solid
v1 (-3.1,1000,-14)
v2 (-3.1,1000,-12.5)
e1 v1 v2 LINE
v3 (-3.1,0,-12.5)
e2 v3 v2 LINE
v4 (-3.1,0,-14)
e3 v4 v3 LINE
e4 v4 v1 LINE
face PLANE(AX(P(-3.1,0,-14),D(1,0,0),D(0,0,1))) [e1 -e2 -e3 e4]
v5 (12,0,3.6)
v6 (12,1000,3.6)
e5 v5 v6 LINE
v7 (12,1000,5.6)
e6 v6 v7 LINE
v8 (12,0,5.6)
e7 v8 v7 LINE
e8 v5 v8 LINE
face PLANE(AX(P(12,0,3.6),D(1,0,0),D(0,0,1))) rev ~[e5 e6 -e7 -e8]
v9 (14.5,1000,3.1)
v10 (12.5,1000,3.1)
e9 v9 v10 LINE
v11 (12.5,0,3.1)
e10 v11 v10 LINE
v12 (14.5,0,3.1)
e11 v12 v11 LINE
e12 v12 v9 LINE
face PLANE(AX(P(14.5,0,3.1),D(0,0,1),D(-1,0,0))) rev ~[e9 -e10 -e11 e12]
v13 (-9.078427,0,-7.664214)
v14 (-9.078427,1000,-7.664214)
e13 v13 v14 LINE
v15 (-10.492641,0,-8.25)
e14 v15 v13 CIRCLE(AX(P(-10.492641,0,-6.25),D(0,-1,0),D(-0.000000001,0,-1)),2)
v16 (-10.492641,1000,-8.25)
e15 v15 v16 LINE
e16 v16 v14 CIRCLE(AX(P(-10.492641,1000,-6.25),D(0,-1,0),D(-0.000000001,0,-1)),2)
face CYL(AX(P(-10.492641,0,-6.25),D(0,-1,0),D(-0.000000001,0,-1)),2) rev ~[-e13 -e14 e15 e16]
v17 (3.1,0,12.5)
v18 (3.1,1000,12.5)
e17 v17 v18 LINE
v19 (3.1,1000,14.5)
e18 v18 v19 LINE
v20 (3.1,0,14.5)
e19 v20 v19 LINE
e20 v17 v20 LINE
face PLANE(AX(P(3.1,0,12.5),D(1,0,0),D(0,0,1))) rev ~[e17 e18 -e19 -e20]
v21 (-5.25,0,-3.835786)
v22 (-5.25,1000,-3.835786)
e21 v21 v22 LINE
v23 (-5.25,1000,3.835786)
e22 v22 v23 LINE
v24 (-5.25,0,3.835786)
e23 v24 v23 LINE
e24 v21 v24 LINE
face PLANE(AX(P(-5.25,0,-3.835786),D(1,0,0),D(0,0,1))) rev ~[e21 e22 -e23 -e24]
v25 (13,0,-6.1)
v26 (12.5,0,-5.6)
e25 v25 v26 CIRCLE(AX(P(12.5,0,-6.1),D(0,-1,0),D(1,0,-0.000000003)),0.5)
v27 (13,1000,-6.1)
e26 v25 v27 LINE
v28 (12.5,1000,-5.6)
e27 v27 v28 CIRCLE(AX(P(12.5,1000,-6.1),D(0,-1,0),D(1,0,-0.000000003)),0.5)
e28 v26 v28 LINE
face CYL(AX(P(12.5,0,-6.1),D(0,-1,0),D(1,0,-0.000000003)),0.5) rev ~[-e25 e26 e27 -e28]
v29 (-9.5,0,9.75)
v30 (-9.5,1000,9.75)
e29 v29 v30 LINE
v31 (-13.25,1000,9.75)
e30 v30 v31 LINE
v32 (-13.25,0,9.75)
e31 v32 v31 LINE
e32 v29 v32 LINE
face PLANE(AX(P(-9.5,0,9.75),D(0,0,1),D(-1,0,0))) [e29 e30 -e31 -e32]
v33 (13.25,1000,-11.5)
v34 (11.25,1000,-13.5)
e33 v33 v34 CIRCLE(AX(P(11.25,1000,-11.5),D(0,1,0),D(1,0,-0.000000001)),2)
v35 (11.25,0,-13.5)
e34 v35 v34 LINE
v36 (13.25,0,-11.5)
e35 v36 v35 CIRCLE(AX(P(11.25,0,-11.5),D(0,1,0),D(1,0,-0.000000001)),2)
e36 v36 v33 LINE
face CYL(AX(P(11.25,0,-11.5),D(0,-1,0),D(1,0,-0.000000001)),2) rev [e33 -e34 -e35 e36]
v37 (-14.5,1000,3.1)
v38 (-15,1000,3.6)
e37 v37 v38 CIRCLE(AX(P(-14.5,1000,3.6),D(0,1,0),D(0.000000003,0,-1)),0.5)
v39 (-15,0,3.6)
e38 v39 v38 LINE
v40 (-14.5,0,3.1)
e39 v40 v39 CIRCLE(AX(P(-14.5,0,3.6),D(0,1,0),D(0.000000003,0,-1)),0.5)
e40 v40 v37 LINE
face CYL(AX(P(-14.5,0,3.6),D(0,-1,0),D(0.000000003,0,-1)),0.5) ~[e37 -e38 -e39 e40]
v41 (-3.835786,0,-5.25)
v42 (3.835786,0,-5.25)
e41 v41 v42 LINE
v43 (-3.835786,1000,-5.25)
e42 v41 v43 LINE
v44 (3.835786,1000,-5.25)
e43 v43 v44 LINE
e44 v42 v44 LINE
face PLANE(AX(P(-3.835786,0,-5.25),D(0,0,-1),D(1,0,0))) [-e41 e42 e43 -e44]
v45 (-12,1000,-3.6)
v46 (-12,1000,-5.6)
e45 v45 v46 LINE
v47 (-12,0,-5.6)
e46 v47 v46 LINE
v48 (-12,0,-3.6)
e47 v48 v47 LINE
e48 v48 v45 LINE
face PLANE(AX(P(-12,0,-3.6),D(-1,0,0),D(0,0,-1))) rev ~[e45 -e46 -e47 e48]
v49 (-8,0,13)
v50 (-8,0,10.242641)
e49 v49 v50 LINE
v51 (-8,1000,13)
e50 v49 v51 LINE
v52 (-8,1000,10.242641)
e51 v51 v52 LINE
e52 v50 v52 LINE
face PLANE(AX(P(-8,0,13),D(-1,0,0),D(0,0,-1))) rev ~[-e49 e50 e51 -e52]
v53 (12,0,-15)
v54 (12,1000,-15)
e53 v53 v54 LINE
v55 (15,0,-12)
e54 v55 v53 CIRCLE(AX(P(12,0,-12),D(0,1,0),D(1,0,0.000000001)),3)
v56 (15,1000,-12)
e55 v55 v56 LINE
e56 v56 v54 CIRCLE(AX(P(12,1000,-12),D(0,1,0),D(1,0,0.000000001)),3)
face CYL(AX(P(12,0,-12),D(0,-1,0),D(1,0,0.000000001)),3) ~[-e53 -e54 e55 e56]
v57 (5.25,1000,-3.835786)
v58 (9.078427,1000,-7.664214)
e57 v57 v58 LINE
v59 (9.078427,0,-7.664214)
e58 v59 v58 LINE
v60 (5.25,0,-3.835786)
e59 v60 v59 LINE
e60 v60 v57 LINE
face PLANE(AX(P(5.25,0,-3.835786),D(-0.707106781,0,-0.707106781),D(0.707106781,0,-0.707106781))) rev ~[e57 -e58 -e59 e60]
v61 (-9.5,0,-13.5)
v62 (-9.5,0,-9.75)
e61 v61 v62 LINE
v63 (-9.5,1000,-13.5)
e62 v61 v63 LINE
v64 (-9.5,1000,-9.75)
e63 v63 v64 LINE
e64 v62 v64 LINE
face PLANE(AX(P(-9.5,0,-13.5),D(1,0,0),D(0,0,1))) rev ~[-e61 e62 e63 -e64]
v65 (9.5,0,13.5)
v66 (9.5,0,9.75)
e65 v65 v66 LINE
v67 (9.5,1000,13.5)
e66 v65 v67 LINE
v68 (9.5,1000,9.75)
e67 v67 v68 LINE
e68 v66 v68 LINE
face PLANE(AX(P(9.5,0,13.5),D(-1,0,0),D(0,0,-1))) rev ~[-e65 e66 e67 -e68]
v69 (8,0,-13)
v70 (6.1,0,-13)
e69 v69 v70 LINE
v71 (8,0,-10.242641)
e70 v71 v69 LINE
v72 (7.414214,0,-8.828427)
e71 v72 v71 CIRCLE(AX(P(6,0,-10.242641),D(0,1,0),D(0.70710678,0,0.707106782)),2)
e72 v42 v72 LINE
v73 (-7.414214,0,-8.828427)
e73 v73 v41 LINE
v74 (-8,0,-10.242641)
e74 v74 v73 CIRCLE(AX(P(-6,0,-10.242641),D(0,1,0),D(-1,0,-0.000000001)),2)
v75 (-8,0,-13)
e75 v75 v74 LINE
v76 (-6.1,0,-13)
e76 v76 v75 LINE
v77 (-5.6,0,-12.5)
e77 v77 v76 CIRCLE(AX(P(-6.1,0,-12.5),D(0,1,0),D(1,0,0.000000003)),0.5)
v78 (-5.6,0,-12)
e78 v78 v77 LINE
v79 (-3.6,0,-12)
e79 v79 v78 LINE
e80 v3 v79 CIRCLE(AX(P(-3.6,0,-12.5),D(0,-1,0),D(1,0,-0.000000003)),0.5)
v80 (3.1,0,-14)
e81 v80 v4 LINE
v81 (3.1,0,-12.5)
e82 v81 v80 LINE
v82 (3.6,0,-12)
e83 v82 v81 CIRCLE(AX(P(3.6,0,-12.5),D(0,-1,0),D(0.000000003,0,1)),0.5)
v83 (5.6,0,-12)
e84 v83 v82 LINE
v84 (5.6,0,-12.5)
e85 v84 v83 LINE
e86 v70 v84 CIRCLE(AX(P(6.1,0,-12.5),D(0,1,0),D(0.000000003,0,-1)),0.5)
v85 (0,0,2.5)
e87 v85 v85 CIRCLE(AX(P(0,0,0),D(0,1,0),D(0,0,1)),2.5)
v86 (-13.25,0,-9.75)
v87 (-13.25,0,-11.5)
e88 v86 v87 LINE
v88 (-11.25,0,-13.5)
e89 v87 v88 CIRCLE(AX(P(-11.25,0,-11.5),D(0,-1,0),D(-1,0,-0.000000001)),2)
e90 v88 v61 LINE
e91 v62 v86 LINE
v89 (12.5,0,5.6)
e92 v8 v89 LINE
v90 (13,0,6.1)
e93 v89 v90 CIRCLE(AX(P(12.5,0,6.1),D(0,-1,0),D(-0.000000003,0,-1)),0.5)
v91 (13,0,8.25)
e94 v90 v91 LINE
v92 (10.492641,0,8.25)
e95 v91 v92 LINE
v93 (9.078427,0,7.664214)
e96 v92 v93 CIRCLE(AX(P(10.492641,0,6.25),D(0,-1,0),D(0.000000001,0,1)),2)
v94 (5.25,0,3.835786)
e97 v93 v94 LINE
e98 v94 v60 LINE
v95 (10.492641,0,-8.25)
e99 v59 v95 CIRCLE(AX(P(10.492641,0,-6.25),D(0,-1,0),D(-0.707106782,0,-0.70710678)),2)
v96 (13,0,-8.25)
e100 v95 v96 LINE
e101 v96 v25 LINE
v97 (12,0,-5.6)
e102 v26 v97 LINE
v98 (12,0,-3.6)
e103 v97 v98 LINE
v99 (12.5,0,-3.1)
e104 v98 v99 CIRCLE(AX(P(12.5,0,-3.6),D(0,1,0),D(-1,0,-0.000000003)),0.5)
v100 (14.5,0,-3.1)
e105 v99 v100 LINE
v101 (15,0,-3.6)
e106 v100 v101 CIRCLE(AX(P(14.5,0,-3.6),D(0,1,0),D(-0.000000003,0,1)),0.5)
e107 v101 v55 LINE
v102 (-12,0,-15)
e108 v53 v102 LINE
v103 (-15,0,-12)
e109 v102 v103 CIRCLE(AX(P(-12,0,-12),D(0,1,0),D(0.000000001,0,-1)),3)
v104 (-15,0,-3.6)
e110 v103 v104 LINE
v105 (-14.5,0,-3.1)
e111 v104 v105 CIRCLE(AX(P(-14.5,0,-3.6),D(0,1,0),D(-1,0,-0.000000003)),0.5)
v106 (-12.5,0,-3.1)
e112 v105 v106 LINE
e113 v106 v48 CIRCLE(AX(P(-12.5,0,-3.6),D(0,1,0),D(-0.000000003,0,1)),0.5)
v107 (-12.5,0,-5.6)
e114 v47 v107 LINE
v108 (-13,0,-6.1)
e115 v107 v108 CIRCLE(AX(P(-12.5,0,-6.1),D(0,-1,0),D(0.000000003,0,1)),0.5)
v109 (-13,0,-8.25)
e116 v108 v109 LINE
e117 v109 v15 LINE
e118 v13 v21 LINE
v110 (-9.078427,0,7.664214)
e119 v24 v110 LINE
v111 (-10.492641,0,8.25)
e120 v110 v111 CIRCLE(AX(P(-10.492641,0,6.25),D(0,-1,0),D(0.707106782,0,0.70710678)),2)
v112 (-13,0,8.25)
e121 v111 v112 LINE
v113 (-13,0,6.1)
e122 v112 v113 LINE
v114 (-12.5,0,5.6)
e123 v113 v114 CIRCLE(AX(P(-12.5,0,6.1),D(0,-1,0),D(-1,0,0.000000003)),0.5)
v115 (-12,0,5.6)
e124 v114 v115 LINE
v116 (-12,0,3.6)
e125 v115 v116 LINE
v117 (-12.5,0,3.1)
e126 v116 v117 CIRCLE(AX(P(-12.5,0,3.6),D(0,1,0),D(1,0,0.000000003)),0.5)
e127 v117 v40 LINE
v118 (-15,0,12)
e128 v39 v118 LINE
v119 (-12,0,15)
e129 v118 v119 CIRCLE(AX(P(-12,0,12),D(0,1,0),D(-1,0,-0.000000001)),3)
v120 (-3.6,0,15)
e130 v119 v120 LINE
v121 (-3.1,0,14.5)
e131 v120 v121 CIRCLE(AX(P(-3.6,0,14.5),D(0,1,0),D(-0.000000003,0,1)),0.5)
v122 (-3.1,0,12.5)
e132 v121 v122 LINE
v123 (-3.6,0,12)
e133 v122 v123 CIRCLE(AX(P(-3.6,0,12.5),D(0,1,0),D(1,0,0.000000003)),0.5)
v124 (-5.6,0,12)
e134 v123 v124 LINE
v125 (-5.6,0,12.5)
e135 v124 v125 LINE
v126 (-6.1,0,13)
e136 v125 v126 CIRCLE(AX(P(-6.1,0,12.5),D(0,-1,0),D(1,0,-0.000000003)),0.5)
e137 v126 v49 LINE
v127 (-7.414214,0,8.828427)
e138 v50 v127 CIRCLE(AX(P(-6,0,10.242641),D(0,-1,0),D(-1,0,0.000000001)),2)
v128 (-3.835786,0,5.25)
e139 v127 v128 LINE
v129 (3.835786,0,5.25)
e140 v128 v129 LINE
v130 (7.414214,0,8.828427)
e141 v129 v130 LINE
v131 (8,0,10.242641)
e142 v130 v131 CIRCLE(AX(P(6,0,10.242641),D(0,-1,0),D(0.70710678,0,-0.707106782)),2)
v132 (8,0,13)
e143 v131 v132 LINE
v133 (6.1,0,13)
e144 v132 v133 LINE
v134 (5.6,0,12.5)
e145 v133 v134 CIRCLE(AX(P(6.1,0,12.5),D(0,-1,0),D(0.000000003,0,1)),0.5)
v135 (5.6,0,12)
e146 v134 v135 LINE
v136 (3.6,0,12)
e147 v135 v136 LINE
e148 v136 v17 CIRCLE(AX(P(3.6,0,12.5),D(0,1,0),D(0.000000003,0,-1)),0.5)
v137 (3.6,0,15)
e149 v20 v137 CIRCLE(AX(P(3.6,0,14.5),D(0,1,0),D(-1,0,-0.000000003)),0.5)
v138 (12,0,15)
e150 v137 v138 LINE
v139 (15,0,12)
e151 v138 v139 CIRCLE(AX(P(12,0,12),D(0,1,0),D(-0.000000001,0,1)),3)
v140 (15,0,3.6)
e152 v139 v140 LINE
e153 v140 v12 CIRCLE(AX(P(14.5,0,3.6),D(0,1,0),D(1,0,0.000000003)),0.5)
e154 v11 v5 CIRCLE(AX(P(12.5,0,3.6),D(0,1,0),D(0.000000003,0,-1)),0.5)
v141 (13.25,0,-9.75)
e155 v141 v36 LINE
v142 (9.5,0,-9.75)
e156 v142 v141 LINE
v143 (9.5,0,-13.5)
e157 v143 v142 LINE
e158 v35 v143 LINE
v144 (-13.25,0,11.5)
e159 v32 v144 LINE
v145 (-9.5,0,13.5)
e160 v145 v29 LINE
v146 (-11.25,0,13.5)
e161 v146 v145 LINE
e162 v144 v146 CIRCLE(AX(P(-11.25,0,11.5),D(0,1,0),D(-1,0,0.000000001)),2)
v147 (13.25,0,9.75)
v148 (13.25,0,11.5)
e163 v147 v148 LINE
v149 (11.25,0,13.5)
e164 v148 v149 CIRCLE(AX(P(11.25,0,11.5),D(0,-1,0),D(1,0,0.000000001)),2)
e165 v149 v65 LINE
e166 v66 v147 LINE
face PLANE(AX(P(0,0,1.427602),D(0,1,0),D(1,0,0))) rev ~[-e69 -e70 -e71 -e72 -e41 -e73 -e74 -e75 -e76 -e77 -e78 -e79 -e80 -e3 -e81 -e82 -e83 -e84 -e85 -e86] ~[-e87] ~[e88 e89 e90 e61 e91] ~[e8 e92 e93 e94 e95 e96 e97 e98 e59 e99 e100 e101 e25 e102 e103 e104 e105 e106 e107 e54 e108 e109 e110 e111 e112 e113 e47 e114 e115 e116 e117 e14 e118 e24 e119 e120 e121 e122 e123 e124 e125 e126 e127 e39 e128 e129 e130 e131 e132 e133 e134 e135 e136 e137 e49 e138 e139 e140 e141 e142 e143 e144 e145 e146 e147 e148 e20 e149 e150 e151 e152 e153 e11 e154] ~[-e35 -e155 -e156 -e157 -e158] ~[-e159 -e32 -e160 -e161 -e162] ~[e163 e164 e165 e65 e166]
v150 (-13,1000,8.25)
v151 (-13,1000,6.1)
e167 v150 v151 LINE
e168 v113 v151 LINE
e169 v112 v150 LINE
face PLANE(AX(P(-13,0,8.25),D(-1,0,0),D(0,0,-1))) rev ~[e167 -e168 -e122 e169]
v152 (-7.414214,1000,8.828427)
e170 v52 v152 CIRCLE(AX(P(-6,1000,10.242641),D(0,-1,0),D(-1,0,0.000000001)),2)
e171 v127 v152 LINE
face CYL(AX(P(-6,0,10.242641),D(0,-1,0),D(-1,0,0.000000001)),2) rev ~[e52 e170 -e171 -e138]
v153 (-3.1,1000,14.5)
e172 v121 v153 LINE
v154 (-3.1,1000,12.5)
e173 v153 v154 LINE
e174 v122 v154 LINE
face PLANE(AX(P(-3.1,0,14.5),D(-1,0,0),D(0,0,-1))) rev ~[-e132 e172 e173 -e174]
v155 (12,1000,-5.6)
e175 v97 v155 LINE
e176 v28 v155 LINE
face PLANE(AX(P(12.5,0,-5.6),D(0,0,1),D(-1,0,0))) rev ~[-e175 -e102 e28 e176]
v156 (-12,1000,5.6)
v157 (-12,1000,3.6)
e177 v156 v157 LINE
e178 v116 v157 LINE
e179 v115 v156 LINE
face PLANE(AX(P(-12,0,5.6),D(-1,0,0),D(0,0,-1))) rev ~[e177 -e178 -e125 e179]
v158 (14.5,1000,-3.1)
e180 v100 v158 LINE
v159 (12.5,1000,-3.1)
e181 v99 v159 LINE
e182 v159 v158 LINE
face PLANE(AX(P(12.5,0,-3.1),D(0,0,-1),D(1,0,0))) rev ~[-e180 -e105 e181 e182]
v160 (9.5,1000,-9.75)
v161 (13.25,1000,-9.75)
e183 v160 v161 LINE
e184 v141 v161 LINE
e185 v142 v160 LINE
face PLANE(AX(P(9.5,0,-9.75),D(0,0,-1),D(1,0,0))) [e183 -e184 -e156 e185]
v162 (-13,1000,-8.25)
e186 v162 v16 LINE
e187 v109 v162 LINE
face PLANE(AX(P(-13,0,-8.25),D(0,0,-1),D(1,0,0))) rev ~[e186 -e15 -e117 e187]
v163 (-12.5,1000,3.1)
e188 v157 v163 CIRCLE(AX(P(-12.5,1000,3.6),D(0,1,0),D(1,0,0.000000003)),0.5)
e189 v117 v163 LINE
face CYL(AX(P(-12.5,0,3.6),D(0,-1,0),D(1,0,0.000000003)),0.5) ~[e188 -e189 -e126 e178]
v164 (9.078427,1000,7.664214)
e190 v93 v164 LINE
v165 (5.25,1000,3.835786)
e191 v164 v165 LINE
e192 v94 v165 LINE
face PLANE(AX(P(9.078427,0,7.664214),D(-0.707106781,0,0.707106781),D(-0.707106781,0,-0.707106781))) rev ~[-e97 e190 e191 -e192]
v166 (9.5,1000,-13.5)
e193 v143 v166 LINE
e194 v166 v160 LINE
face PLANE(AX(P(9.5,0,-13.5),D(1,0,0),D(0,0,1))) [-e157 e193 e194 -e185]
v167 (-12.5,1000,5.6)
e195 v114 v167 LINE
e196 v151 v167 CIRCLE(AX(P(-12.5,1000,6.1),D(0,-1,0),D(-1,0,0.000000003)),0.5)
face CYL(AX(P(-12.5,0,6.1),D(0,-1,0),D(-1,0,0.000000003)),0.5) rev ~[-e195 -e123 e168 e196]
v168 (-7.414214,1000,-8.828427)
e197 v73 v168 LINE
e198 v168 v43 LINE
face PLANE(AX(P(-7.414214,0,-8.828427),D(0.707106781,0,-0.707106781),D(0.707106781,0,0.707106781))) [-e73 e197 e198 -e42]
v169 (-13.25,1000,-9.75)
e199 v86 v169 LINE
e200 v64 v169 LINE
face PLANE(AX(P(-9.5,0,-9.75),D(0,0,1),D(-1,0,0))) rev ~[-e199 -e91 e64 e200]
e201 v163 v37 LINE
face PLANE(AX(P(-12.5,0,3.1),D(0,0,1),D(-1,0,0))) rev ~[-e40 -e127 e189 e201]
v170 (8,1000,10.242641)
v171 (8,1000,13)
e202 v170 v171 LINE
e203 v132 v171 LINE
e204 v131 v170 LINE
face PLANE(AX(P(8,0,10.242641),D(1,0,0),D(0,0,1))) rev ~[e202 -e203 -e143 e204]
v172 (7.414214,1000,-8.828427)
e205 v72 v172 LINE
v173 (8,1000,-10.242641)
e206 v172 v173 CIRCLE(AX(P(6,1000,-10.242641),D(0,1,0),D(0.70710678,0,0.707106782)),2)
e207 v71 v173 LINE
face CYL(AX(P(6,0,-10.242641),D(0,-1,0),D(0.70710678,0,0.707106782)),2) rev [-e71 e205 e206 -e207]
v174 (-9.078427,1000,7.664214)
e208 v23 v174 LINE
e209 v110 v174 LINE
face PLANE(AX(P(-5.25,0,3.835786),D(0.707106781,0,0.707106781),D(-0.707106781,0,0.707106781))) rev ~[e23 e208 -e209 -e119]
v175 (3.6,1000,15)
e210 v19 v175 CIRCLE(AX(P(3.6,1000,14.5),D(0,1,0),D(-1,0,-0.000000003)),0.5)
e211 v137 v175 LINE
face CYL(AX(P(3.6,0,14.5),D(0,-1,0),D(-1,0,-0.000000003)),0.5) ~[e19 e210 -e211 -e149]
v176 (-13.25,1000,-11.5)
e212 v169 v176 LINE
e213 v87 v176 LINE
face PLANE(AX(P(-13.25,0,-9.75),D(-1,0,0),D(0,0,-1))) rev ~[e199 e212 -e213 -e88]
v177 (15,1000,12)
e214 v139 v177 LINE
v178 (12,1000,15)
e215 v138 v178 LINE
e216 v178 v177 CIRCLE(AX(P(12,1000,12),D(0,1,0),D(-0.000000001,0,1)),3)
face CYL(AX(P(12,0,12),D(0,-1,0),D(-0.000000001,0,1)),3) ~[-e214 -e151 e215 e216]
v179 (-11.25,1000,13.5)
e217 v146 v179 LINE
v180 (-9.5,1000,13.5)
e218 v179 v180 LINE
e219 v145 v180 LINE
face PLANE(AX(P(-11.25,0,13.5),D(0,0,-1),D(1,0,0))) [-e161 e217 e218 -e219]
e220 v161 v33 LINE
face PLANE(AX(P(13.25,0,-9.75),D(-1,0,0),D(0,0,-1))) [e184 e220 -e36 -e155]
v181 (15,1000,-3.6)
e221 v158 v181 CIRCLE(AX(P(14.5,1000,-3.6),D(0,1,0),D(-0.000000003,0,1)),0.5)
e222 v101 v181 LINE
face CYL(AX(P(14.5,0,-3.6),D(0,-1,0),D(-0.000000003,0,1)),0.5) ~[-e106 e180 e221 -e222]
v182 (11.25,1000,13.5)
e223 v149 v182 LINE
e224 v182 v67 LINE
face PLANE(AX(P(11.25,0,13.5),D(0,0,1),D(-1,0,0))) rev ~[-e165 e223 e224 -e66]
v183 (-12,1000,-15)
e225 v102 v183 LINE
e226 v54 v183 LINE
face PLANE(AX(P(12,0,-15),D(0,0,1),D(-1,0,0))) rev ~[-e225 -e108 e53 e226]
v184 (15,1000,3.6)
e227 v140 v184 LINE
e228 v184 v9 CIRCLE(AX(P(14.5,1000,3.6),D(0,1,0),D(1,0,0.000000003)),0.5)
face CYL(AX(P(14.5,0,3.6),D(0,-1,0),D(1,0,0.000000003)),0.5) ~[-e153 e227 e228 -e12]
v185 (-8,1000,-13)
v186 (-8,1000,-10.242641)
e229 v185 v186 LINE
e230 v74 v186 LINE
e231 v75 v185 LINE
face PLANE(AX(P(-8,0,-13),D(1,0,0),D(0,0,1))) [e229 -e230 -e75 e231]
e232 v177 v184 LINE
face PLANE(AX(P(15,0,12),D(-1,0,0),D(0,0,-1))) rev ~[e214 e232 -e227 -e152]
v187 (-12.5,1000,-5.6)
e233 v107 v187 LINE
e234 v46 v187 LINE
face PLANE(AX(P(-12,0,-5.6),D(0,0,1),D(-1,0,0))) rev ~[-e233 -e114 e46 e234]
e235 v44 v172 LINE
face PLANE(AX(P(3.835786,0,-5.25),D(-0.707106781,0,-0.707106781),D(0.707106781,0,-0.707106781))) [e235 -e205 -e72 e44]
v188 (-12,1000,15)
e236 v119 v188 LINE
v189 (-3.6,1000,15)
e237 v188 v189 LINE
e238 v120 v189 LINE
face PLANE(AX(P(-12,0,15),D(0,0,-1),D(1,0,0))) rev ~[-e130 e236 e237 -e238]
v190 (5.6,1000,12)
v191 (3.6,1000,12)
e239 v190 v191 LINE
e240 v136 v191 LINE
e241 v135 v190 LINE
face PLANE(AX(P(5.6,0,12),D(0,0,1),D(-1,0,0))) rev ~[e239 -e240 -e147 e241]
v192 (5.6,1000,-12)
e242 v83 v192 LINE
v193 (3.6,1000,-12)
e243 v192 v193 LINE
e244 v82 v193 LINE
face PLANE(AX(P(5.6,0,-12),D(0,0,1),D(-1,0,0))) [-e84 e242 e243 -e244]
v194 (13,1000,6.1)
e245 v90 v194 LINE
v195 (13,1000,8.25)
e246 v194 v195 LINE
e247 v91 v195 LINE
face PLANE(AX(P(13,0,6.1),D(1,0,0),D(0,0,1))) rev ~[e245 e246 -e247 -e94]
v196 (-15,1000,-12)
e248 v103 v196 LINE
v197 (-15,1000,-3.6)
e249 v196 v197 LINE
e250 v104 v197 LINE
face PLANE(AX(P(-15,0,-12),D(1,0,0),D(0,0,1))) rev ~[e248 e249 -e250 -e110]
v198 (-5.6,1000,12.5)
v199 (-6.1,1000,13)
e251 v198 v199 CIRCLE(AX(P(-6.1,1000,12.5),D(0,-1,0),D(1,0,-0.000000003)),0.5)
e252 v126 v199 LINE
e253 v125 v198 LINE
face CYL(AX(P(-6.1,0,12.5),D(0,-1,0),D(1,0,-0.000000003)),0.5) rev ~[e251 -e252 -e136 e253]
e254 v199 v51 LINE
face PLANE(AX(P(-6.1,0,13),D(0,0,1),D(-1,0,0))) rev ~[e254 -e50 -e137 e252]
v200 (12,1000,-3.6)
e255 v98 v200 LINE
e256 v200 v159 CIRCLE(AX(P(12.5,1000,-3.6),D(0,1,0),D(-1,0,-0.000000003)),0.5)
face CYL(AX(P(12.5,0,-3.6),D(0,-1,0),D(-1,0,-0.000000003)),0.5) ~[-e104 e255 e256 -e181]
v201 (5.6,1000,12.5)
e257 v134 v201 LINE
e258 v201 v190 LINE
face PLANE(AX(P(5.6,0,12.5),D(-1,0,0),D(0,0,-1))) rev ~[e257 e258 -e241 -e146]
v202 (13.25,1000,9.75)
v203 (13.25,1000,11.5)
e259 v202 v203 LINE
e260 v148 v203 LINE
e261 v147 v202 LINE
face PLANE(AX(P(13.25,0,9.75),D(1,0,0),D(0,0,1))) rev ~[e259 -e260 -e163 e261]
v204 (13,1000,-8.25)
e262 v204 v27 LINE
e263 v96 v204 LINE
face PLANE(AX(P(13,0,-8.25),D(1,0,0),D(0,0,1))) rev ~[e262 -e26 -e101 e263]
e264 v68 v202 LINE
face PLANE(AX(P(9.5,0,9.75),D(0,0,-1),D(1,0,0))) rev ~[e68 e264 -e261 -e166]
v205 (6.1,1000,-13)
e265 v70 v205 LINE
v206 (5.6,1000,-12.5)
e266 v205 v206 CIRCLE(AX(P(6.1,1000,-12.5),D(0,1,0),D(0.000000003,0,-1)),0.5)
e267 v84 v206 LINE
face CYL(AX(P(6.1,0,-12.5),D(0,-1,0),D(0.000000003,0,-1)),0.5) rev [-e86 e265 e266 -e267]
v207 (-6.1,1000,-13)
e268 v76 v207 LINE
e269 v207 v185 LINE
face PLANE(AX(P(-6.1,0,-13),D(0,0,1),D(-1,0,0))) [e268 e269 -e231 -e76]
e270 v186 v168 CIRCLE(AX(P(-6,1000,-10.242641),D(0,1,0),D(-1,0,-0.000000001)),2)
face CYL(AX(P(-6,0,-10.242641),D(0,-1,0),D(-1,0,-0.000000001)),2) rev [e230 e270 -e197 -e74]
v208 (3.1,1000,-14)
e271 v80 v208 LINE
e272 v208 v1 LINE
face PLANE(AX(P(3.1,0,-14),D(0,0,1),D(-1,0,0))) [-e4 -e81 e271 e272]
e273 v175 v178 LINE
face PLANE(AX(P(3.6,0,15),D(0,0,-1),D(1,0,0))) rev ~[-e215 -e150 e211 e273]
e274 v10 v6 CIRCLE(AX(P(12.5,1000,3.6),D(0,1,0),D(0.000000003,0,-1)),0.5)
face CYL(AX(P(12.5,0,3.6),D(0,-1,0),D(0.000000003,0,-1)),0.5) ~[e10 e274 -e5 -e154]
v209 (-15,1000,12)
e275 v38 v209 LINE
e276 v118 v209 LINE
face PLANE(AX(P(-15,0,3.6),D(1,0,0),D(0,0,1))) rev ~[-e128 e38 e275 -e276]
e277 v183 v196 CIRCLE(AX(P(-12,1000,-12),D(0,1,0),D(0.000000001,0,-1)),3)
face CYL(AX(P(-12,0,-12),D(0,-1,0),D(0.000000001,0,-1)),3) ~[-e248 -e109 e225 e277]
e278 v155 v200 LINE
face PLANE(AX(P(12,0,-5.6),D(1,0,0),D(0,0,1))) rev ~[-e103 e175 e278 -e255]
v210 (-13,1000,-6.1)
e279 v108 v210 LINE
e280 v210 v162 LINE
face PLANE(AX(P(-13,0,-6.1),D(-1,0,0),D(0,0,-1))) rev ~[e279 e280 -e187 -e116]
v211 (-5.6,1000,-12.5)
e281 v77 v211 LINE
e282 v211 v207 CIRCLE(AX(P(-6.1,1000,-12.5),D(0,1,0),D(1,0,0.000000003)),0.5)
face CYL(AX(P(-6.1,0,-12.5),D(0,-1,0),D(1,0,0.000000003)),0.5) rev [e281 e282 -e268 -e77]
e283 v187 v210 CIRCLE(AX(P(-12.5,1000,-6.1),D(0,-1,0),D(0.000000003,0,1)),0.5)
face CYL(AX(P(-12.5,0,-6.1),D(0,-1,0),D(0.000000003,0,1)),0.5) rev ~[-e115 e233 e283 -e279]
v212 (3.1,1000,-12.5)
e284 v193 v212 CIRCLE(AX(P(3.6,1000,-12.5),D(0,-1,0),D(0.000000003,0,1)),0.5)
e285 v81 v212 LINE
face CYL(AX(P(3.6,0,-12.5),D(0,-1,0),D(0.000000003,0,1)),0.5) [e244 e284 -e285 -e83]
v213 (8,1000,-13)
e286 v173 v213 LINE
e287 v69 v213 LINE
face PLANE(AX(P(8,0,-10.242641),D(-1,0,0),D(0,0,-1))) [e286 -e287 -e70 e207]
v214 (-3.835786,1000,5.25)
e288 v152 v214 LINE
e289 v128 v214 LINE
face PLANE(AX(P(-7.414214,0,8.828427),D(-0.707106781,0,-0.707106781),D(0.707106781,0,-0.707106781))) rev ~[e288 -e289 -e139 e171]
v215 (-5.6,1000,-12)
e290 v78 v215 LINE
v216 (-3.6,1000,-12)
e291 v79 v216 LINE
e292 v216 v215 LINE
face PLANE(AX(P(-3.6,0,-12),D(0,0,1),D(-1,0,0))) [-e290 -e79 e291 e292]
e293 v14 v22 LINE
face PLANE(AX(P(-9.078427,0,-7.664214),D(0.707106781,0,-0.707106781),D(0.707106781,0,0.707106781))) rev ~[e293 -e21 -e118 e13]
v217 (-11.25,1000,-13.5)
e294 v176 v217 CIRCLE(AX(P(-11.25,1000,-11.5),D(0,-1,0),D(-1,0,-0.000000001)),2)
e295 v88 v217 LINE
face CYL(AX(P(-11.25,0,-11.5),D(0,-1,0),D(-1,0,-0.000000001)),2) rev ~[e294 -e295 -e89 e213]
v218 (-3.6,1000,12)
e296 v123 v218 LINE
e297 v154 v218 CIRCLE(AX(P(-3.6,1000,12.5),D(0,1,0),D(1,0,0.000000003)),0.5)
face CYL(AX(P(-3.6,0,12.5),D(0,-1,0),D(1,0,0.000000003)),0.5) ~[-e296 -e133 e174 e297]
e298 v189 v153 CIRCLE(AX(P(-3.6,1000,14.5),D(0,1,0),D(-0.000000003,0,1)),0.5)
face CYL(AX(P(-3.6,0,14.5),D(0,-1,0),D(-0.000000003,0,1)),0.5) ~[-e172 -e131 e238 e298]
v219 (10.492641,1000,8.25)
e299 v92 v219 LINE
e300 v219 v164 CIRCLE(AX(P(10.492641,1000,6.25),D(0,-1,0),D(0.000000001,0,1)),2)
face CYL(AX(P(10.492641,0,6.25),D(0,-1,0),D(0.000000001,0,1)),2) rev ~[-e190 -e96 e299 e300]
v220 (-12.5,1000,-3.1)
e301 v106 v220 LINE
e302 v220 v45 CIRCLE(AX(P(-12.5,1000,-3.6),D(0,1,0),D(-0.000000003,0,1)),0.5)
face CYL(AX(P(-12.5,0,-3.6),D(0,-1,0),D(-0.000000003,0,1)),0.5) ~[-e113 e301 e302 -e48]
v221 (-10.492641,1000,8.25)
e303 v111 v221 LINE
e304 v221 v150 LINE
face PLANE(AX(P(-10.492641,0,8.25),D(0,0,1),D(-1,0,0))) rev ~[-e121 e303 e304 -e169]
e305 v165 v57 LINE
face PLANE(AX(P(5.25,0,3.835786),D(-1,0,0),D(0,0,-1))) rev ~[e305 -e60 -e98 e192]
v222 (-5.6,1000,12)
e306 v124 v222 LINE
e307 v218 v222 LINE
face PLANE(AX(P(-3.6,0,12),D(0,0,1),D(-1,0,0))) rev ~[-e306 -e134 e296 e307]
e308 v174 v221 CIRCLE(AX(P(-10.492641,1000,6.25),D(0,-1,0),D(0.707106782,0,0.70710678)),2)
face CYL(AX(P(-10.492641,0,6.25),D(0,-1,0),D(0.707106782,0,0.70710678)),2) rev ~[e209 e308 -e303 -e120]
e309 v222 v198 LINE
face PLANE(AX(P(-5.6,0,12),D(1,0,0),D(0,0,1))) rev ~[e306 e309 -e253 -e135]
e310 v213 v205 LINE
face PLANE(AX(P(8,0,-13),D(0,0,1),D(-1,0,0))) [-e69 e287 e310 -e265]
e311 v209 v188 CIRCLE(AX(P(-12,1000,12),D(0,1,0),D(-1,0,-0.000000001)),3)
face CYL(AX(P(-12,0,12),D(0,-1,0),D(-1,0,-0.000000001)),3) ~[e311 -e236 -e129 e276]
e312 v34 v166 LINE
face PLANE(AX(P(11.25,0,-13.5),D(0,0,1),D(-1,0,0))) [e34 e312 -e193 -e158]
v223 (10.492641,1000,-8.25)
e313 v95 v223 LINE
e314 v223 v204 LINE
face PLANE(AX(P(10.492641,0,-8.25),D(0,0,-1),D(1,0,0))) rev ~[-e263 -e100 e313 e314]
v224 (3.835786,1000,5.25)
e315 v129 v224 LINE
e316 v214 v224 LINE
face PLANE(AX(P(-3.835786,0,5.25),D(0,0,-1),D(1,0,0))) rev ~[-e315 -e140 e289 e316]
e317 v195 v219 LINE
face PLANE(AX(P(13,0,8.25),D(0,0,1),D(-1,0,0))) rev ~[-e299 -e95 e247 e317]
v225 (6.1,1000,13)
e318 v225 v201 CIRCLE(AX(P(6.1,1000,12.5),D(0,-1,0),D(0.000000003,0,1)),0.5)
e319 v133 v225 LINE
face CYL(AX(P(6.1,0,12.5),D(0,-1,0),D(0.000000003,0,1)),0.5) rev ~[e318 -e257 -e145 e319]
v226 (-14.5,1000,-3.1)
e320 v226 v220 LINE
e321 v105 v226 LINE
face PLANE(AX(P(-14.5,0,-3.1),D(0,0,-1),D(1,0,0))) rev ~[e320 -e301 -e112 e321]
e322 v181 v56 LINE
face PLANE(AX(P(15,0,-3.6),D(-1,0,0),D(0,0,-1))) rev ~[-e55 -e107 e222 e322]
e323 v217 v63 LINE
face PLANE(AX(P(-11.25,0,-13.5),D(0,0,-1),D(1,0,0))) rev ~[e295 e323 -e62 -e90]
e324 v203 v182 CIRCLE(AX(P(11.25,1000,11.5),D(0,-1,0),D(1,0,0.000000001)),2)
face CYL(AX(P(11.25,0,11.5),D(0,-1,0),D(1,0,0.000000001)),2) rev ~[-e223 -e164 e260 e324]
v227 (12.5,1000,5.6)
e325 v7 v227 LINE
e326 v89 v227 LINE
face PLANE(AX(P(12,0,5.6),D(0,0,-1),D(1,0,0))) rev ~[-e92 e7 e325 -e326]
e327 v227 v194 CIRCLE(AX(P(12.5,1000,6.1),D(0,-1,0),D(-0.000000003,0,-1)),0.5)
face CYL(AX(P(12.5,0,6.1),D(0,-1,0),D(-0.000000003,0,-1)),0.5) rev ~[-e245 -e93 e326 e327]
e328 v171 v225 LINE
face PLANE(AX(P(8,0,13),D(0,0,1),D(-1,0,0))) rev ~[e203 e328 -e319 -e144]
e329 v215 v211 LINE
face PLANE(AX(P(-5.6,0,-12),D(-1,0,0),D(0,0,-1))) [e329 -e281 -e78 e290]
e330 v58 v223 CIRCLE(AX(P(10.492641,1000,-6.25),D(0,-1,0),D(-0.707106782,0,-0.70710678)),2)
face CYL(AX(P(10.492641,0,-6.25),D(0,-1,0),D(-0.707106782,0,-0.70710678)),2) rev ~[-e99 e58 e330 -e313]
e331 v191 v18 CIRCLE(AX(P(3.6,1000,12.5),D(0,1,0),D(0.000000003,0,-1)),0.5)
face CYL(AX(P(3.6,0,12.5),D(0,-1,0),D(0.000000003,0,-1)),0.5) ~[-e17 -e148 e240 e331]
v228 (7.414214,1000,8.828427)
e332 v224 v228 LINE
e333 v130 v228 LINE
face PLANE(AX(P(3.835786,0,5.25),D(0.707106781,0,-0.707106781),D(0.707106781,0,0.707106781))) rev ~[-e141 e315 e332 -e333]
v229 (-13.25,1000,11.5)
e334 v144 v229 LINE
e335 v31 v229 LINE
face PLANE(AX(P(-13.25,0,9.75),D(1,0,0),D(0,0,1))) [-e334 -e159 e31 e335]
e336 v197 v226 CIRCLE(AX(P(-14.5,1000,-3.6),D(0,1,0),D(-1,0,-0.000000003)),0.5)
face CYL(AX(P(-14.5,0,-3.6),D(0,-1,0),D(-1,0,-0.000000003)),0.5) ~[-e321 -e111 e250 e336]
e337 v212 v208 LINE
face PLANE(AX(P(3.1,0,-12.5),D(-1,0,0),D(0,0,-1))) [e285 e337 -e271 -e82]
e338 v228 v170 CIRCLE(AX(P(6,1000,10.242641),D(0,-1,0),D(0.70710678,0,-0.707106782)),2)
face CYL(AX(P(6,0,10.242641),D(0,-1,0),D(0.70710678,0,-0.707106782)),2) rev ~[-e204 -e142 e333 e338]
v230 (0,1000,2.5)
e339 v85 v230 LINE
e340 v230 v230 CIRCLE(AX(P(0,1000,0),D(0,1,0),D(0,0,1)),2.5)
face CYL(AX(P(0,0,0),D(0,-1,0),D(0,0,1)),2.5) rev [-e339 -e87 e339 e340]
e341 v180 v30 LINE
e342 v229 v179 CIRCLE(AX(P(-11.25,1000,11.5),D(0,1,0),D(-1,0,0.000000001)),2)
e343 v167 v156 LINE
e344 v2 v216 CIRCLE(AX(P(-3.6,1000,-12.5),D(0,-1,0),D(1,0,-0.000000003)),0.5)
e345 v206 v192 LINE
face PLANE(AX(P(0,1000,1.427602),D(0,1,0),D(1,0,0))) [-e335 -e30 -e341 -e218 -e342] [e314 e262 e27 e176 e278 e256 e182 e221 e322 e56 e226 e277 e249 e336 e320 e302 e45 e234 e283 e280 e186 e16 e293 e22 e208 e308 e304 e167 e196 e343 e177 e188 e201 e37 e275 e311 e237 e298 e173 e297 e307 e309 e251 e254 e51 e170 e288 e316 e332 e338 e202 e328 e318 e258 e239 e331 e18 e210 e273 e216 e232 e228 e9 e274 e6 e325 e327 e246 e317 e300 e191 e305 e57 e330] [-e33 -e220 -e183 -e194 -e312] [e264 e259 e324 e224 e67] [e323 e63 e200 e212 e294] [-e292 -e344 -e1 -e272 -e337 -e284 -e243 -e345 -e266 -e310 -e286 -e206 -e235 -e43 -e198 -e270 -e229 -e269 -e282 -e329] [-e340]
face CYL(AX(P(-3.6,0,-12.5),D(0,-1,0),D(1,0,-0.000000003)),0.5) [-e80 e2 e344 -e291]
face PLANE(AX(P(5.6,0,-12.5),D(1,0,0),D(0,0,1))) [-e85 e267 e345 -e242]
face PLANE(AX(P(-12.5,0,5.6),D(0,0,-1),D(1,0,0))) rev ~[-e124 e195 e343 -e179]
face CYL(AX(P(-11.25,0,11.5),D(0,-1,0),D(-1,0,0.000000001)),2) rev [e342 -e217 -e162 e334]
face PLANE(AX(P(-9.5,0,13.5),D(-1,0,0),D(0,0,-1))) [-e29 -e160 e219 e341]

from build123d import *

# Parameters (mm, degrees)
SKETCH2_R           = 2.5
BOSS_EXTRUDE1_DEPTH = 1000


with BuildPart() as part:
    # Sketch2 → Boss-Extrude1 (new body)
    with BuildSketch(Plane(origin=(0, 0, 0), x_dir=(1, 0, 0), z_dir=(0, 1, 0))):
        with BuildLine():
            Line((3.6, -15), (12, -15))
            ThreePointArc((12, -15), (14.121320344, -14.121320344), (15, -12))
            Line((15, -12), (15, -3.6))
            ThreePointArc((15, -3.6), (14.853553391, -3.246446609), (14.5, -3.1))
            Line((14.5, -3.1), (12.5, -3.1))
            ThreePointArc((12.5, -3.1), (12.146446609, -3.246446609), (12, -3.6))
            Line((12, -3.6), (12, -5.6))
            Line((12, -5.6), (12.5, -5.6))
            ThreePointArc((12.5, -5.6), (12.853553391, -5.746446609), (13, -6.1))
            Line((13, -6.1), (13, -8.25))
            Line((13, -8.25), (10.492640687, -8.25))
            ThreePointArc((10.492640687, -8.25), (9.727273822, -8.097759065), (9.078427125, -7.664213562))
            Line((9.078427125, -7.664213562), (5.25, -3.835786438))
            Line((5.25, -3.835786438), (5.25, 3.835786438))
            Line((5.25, 3.835786438), (9.078427125, 7.664213562))
            ThreePointArc((9.078427125, 7.664213562), (9.727273822, 8.097759065), (10.492640687, 8.25))
            Line((10.492640687, 8.25), (13, 8.25))
            Line((13, 8.25), (13, 6.1))
            ThreePointArc((13, 6.1), (12.853553391, 5.746446609), (12.5, 5.6))
            Line((12.5, 5.6), (12, 5.6))
            Line((12, 5.6), (12, 3.6))
            ThreePointArc((12, 3.6), (12.146446609, 3.246446609), (12.5, 3.1))
            Line((12.5, 3.1), (14.5, 3.1))
            ThreePointArc((14.5, 3.1), (14.853553391, 3.246446609), (15, 3.6))
            Line((15, 3.6), (15, 12))
            ThreePointArc((15, 12), (14.121320344, 14.121320344), (12, 15))
            Line((12, 15), (-12, 15))
            ThreePointArc((-12, 15), (-14.121320344, 14.121320344), (-15, 12))
            Line((-15, 12), (-15, 3.6))
            ThreePointArc((-15, 3.6), (-14.853553391, 3.246446609), (-14.5, 3.1))
            Line((-14.5, 3.1), (-12.5, 3.1))
            ThreePointArc((-12.5, 3.1), (-12.146446609, 3.246446609), (-12, 3.6))
            Line((-12, 3.6), (-12, 5.6))
            Line((-12, 5.6), (-12.5, 5.6))
            ThreePointArc((-12.5, 5.6), (-12.853553391, 5.746446609), (-13, 6.1))
            Line((-13, 6.1), (-13, 8.25))
            Line((-13, 8.25), (-10.492640687, 8.25))
            ThreePointArc((-10.492640687, 8.25), (-9.727273822, 8.097759065), (-9.078427125, 7.664213562))
            Line((-9.078427125, 7.664213562), (-5.25, 3.835786438))
            Line((-5.25, 3.835786438), (-5.25, -3.835786438))
            Line((-5.25, -3.835786438), (-9.078427125, -7.664213562))
            ThreePointArc((-9.078427125, -7.664213562), (-9.727273822, -8.097759065), (-10.492640687, -8.25))
            Line((-10.492640687, -8.25), (-13, -8.25))
            Line((-13, -8.25), (-13, -6.1))
            ThreePointArc((-13, -6.1), (-12.853553391, -5.746446609), (-12.5, -5.6))
            Line((-12.5, -5.6), (-12, -5.6))
            Line((-12, -5.6), (-12, -3.6))
            ThreePointArc((-12, -3.6), (-12.146446609, -3.246446609), (-12.5, -3.1))
            Line((-12.5, -3.1), (-14.5, -3.1))
            ThreePointArc((-14.5, -3.1), (-14.853553391, -3.246446609), (-15, -3.6))
            Line((-15, -3.6), (-15, -12))
            ThreePointArc((-15, -12), (-14.121320344, -14.121320344), (-12, -15))
            Line((-12, -15), (-3.6, -15))
            ThreePointArc((-3.6, -15), (-3.246446609, -14.853553391), (-3.1, -14.5))
            Line((-3.1, -14.5), (-3.1, -12.5))
            ThreePointArc((-3.1, -12.5), (-3.246446609, -12.146446609), (-3.6, -12))
            Line((-3.6, -12), (-5.6, -12))
            Line((-5.6, -12), (-5.6, -12.5))
            ThreePointArc((-5.6, -12.5), (-5.746446609, -12.853553391), (-6.1, -13))
            Line((-6.1, -13), (-8, -13))
            Line((-8, -13), (-8, -10.242640687))
            ThreePointArc((-8, -10.242640687), (-7.847759065, -9.477273822), (-7.414213562, -8.828427125))
            Line((-7.414213562, -8.828427125), (-3.835786438, -5.25))
            Line((-3.835786438, -5.25), (3.835786438, -5.25))
            Line((3.835786438, -5.25), (7.414213562, -8.828427125))
            ThreePointArc((7.414213562, -8.828427125), (7.847759065, -9.477273822), (8, -10.242640687))
            Line((8, -10.242640687), (8, -13))
            Line((8, -13), (6.1, -13))
            ThreePointArc((6.1, -13), (5.746446609, -12.853553391), (5.6, -12.5))
            Line((5.6, -12.5), (5.6, -12))
            Line((5.6, -12), (3.6, -12))
            ThreePointArc((3.6, -12), (3.246446609, -12.146446609), (3.1, -12.5))
            Line((3.1, -12.5), (3.1, -14.5))
            ThreePointArc((3.1, -14.5), (3.246446609, -14.853553391), (3.6, -15))
        make_face()
        with Locations(Location((0, 0, 0), (0, 0, 270))):
            Circle(SKETCH2_R, mode=Mode.SUBTRACT)
        with BuildLine():
            Line((-3.835786438, 5.25), (3.835786438, 5.25))
            Line((3.835786438, 5.25), (7.414213562, 8.828427125))
            ThreePointArc((7.414213562, 8.828427125), (7.847759065, 9.477273822), (8, 10.242640687))
            Line((8, 10.242640687), (8, 13))
            Line((8, 13), (6.1, 13))
            ThreePointArc((6.1, 13), (5.746446609, 12.853553391), (5.6, 12.5))
            Line((5.6, 12.5), (5.6, 12))
            Line((5.6, 12), (3.6, 12))
            ThreePointArc((3.6, 12), (3.246446609, 12.146446609), (3.1, 12.5))
            Line((3.1, 12.5), (3.1, 14))
            Line((3.1, 14), (-3.1, 14))
            Line((-3.1, 14), (-3.1, 12.5))
            ThreePointArc((-3.1, 12.5), (-3.246446609, 12.146446609), (-3.6, 12))
            Line((-3.6, 12), (-5.6, 12))
            Line((-5.6, 12), (-5.6, 12.5))
            ThreePointArc((-5.6, 12.5), (-5.746446609, 12.853553391), (-6.1, 13))
            Line((-6.1, 13), (-8, 13))
            Line((-8, 13), (-8, 10.242640687))
            ThreePointArc((-8, 10.242640687), (-7.847759065, 9.477273822), (-7.414213562, 8.828427125))
            Line((-7.414213562, 8.828427125), (-3.835786438, 5.25))
        make_face(mode=Mode.SUBTRACT)
        with BuildLine():
            Line((9.5, -9.75), (13.25, -9.75))
            Line((13.25, -9.75), (13.25, -11.5))
            ThreePointArc((13.25, -11.5), (12.664213562, -12.914213562), (11.25, -13.5))
            Line((11.25, -13.5), (9.5, -13.5))
            Line((9.5, -13.5), (9.5, -9.75))
        make_face(mode=Mode.SUBTRACT)
        with BuildLine():
            Line((-13.25, -9.75), (-13.25, -11.5))
            ThreePointArc((-13.25, -11.5), (-12.664213562, -12.914213562), (-11.25, -13.5))
            Line((-11.25, -13.5), (-9.5, -13.5))
            Line((-9.5, -13.5), (-9.5, -9.75))
            Line((-9.5, -9.75), (-13.25, -9.75))
        make_face(mode=Mode.SUBTRACT)
        with BuildLine():
            Line((-9.5, 9.75), (-13.25, 9.75))
            Line((-13.25, 9.75), (-13.25, 11.5))
            ThreePointArc((-13.25, 11.5), (-12.664213562, 12.914213562), (-11.25, 13.5))
            Line((-11.25, 13.5), (-9.5, 13.5))
            Line((-9.5, 13.5), (-9.5, 9.75))
        make_face(mode=Mode.SUBTRACT)
        with BuildLine():
            Line((13.25, 9.75), (13.25, 11.5))
            ThreePointArc((13.25, 11.5), (12.664213562, 12.914213562), (11.25, 13.5))
            Line((11.25, 13.5), (9.5, 13.5))
            Line((9.5, 13.5), (9.5, 9.75))
            Line((9.5, 9.75), (13.25, 9.75))
        make_face(mode=Mode.SUBTRACT)
    extrude(amount=BOSS_EXTRUDE1_DEPTH)


solid = part.part
